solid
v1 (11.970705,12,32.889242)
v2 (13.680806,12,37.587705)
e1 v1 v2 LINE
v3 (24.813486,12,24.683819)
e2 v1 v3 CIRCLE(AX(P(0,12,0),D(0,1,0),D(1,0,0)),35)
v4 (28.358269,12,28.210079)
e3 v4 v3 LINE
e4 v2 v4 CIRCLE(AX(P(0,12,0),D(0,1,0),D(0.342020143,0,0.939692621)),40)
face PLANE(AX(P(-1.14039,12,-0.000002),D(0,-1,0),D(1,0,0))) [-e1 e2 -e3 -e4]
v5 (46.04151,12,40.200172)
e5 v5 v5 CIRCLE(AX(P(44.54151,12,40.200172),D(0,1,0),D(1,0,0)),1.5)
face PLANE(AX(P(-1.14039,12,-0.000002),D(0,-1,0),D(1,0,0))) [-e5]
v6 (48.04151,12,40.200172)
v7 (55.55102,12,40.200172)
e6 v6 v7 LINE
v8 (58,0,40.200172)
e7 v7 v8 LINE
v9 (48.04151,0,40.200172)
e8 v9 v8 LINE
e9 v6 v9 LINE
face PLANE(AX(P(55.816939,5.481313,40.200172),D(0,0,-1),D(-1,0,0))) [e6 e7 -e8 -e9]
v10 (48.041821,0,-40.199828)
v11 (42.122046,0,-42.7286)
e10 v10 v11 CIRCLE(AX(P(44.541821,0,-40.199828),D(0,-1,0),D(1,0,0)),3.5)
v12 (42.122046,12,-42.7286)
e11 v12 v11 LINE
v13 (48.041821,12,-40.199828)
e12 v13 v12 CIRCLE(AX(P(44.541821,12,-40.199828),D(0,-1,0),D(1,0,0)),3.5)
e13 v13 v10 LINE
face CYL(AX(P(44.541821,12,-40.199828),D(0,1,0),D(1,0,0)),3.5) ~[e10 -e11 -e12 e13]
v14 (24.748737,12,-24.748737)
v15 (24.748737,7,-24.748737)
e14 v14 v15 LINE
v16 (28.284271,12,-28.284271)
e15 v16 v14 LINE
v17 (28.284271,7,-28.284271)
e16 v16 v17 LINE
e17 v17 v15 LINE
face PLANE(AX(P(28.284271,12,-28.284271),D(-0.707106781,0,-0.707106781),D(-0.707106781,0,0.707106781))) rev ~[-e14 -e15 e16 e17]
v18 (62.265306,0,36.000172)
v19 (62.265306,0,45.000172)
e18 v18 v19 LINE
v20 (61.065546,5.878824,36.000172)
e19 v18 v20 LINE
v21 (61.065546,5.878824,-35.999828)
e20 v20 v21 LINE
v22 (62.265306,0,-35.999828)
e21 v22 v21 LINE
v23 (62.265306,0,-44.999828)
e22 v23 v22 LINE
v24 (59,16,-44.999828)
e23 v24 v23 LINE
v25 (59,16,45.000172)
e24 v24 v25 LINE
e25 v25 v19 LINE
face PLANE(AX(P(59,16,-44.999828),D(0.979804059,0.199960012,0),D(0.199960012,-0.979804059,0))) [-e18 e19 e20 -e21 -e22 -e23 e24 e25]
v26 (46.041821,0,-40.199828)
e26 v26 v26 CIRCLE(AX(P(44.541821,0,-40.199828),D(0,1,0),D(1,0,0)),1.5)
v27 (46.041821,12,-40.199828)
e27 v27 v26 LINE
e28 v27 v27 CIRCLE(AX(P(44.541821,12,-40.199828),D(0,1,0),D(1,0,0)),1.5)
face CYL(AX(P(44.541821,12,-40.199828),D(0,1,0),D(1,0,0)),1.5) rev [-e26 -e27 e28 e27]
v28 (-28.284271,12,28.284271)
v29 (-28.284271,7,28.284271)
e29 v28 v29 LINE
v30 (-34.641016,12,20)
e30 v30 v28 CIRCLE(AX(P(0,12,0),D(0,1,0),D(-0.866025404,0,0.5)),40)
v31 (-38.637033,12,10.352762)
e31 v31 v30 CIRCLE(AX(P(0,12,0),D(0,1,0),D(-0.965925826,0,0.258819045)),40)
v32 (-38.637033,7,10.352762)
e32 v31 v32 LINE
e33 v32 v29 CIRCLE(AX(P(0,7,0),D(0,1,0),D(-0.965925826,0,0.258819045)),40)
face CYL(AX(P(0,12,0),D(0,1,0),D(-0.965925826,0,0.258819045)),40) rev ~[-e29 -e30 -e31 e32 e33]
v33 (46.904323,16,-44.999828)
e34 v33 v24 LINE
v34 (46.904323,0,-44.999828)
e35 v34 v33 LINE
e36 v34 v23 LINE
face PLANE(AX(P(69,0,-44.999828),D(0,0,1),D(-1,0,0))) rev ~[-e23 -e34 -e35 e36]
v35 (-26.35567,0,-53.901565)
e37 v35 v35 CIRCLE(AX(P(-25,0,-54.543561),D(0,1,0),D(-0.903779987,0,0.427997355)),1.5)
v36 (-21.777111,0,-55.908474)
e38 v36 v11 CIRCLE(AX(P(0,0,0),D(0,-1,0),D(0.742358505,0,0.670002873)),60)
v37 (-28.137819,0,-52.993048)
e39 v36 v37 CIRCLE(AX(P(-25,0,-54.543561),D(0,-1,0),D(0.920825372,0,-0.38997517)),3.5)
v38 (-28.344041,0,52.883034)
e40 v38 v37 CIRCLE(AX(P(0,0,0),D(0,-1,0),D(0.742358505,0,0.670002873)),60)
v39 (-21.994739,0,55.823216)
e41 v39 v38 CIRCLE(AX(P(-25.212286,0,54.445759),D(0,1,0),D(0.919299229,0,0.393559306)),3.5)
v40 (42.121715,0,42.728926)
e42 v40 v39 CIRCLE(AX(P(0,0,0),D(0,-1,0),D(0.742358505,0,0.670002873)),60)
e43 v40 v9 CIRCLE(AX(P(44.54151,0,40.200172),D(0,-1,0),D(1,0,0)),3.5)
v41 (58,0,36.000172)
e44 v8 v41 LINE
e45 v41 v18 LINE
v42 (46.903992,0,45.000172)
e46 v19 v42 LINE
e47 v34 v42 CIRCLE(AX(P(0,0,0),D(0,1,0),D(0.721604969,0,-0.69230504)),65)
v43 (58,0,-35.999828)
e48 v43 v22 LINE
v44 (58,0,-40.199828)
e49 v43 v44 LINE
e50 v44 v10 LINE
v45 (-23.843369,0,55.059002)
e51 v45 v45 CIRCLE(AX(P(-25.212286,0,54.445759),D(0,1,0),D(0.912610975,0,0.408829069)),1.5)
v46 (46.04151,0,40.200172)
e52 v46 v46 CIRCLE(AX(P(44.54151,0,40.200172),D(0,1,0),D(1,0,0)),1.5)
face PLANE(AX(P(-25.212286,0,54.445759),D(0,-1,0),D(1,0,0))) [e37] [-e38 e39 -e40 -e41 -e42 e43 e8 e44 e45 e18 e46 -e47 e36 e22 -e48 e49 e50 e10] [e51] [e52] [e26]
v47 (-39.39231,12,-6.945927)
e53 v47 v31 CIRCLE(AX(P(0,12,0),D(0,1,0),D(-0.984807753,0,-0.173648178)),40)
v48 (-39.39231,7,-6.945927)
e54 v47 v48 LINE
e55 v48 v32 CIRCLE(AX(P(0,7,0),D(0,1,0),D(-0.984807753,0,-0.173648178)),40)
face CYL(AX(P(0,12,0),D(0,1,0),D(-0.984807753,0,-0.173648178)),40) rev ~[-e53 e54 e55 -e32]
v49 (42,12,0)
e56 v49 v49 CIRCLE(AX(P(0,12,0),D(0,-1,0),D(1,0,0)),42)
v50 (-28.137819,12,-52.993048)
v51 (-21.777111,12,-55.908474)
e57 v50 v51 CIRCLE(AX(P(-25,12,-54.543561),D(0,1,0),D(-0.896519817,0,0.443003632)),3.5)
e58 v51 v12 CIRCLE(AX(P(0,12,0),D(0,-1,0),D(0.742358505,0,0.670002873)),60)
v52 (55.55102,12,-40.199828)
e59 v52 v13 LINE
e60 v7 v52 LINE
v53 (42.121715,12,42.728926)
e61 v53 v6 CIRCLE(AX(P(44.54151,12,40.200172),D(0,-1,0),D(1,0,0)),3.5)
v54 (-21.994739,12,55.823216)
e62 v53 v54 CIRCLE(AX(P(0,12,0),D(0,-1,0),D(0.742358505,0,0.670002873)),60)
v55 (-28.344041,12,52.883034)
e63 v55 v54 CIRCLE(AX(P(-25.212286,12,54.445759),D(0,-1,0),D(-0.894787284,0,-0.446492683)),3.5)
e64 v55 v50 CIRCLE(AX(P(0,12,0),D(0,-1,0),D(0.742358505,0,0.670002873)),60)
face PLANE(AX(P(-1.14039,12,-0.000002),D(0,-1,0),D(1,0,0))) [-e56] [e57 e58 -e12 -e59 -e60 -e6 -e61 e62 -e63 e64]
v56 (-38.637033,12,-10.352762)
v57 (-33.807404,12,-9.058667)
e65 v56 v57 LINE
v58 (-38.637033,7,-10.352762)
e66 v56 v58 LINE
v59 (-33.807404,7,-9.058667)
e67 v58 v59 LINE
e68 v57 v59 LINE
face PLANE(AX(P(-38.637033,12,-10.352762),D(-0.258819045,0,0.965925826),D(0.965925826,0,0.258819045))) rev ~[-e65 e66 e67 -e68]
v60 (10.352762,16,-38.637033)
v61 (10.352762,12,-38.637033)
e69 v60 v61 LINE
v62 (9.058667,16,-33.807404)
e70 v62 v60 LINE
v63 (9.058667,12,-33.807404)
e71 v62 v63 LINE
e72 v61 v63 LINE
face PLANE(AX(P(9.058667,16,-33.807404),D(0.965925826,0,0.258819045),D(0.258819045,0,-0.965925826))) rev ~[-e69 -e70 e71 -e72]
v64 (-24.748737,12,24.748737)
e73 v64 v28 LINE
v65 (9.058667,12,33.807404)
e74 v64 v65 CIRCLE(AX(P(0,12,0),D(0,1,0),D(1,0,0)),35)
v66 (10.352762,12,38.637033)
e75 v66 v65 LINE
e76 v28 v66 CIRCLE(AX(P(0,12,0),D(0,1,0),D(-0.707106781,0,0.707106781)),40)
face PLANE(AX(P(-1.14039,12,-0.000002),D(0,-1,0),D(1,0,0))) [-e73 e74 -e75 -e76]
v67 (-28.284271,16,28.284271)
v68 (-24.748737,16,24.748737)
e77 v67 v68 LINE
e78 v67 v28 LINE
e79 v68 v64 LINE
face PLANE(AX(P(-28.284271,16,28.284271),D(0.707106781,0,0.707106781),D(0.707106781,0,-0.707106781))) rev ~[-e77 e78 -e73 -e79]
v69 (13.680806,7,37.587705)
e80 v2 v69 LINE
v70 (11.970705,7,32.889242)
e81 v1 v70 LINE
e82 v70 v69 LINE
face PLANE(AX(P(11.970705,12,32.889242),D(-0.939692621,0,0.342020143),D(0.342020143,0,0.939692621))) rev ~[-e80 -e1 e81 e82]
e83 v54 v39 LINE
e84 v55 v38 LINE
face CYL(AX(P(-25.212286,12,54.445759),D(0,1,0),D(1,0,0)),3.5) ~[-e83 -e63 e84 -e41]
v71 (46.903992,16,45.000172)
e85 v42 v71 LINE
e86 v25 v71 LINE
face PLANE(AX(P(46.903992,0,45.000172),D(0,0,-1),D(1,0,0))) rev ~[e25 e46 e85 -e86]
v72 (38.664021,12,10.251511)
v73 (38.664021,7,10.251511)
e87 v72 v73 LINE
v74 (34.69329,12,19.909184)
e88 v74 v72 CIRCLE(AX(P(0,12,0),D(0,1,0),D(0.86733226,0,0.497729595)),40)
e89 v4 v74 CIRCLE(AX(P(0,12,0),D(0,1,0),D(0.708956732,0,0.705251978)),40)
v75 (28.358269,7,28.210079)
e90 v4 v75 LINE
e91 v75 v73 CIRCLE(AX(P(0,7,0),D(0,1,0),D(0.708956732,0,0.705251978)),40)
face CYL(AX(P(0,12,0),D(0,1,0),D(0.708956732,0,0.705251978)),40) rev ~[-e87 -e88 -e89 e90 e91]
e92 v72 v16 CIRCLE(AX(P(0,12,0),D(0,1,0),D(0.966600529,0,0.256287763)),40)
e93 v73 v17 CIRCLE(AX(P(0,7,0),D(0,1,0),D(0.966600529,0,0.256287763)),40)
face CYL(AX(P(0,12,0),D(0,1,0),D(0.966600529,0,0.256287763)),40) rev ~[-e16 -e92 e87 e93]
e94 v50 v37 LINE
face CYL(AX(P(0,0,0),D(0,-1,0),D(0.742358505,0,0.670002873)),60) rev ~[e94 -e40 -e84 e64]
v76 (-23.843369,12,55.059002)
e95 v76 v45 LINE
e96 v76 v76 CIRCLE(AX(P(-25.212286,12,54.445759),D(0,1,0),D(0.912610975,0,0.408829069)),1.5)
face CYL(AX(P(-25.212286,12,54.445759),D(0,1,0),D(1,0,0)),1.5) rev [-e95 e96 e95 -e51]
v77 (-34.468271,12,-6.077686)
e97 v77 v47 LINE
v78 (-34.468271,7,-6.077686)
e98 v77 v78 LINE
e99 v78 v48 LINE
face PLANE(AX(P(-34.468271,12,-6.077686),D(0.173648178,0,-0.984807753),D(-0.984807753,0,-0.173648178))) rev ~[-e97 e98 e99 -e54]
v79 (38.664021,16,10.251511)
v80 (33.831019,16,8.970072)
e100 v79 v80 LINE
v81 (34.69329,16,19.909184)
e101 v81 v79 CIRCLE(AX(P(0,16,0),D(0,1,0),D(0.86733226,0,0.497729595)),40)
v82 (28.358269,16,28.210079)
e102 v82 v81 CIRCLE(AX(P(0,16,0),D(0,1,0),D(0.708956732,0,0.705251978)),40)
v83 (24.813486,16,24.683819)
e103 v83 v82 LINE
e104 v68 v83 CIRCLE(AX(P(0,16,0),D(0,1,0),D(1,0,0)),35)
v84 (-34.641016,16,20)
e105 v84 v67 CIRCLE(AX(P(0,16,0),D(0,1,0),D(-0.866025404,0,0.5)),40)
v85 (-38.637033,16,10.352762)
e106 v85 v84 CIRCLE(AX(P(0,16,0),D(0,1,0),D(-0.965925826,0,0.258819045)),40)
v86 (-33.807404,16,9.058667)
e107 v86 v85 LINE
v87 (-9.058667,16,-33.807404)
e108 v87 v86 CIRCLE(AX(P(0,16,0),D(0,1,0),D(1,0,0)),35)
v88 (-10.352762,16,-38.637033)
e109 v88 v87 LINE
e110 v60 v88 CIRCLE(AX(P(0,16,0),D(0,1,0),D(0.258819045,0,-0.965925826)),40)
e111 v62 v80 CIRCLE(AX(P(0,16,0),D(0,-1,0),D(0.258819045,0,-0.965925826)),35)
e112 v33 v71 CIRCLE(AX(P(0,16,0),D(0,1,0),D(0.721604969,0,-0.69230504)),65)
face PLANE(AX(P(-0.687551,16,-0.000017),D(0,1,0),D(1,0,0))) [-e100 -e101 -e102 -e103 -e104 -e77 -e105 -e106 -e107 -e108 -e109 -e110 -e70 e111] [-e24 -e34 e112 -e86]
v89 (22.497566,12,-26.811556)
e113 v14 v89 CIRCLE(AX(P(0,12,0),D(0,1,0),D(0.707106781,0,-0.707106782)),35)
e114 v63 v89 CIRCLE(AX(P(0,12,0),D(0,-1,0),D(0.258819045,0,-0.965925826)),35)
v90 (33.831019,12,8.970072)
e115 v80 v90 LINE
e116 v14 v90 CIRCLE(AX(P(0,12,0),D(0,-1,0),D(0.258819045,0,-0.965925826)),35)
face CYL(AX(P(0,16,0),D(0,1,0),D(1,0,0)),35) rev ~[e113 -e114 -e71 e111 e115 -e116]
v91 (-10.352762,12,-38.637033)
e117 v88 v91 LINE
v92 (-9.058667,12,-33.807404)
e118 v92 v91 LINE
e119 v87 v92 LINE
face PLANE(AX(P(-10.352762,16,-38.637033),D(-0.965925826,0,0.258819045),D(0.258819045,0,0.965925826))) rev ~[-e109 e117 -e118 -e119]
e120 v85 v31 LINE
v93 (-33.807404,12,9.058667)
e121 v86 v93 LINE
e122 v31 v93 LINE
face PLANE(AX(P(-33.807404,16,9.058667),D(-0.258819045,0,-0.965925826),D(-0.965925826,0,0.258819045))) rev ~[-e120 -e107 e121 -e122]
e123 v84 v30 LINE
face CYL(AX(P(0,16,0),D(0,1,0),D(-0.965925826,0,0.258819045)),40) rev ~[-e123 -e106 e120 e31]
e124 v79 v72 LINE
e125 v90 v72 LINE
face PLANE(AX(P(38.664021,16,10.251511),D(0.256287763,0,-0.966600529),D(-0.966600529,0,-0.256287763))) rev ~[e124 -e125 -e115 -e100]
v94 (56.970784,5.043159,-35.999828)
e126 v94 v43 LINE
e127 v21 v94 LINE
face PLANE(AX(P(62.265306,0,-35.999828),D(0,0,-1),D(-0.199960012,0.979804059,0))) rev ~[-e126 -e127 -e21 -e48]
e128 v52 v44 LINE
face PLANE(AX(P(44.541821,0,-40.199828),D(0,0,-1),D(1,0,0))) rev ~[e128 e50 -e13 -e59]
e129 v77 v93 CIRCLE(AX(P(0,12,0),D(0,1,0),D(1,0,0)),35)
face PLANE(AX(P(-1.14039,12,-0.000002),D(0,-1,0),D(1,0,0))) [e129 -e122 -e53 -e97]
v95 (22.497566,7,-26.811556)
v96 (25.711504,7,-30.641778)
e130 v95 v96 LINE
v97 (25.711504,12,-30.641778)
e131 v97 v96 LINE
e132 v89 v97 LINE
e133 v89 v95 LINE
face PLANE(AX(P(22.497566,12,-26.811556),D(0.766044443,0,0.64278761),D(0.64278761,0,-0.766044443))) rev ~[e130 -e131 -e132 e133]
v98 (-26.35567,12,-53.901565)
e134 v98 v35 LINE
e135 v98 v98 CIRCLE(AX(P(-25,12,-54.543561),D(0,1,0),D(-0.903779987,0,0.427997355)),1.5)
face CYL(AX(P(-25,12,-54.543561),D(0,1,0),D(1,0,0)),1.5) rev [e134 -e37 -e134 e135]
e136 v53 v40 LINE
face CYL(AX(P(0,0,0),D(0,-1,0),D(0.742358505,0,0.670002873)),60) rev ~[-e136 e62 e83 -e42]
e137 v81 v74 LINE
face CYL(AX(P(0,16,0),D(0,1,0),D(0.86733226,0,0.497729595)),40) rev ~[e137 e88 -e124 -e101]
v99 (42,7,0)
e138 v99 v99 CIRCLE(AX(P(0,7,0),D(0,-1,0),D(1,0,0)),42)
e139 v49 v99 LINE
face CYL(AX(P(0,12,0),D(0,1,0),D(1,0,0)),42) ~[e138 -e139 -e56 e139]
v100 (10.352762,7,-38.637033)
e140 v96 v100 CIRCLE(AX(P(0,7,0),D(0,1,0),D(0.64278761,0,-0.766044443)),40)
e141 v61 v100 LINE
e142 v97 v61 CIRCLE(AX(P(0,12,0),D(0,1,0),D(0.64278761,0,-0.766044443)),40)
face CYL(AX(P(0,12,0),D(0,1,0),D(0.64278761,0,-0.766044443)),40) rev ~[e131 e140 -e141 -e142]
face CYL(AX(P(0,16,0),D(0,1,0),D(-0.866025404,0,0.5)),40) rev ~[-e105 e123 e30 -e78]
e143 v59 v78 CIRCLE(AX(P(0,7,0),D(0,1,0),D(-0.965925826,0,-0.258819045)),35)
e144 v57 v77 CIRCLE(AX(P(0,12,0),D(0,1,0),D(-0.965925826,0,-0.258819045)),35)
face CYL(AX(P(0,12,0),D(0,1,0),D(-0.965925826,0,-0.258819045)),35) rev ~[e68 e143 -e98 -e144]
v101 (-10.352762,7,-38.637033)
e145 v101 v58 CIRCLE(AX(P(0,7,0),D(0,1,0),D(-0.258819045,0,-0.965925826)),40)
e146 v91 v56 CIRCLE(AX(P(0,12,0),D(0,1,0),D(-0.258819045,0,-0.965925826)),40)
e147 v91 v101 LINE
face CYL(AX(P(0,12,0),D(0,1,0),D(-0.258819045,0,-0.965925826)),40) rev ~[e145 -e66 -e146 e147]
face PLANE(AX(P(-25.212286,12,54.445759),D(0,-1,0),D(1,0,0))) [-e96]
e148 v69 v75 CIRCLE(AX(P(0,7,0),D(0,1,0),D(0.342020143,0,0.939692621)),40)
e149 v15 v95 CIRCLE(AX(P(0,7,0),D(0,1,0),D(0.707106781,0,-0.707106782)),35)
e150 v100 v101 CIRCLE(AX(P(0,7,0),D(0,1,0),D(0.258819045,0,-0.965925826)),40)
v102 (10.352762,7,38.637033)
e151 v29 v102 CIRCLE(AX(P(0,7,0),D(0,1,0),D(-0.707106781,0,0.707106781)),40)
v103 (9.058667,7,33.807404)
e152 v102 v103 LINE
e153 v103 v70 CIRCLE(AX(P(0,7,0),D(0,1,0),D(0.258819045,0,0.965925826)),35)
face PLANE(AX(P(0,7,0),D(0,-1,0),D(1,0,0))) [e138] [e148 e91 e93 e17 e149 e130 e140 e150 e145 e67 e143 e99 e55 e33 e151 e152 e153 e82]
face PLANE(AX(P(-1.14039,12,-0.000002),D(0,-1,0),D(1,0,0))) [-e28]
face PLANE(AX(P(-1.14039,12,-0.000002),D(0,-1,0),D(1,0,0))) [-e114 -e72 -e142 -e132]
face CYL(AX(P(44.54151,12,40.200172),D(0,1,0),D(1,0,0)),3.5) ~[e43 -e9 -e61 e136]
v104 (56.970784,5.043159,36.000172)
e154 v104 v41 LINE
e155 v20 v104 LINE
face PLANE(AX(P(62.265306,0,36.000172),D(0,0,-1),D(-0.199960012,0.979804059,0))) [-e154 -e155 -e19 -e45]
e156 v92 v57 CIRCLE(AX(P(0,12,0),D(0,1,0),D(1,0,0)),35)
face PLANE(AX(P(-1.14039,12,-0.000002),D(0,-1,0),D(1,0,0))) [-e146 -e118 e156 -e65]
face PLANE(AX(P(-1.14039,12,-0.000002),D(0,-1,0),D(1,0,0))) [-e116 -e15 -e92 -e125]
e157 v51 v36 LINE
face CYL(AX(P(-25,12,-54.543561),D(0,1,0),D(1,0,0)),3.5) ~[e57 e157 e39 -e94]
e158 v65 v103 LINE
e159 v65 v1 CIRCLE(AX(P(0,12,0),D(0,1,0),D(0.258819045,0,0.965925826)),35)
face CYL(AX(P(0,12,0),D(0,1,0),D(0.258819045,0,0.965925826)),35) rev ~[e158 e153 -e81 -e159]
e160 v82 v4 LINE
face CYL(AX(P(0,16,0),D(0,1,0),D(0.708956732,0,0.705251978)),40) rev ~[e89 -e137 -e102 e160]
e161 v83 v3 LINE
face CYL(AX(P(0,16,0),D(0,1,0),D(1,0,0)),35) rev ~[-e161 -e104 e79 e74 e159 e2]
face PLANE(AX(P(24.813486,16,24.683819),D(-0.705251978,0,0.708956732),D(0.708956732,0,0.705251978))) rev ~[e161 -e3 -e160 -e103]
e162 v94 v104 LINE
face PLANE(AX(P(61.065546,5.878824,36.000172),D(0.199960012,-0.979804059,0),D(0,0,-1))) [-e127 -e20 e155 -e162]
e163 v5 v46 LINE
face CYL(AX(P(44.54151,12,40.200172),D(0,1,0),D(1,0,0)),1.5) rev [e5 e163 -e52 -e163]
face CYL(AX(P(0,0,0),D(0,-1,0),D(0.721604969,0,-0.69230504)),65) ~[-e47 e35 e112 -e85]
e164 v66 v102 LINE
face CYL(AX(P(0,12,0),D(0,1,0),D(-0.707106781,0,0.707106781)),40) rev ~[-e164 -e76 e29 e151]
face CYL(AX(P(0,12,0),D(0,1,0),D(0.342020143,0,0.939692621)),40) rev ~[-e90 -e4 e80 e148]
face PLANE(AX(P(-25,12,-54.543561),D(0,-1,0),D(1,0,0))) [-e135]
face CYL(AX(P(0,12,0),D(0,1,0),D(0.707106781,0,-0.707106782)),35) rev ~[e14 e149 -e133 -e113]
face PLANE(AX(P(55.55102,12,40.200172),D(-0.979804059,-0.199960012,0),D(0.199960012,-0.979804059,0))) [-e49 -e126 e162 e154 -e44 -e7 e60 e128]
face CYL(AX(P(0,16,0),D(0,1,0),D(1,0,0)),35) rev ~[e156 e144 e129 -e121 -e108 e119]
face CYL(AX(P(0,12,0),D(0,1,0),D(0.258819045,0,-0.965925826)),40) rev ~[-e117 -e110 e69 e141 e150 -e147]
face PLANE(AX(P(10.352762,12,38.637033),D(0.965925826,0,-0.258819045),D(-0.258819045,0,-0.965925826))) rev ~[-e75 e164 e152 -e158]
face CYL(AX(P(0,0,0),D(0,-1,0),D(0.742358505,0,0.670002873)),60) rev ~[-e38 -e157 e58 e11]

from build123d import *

# Parameters (mm, degrees)
BOSS_EXTRUDE1_DEPTH = 16
CUT_EXTRUDE1_DEPTH  = 12
SKETCH4_W           = 72
SKETCH4_H           = 5
CUT_EXTRUDE2_DEPTH  = 16
SKETCH5_R           = 35
CUT_EXTRUDE3_DEPTH  = 16
CUT_EXTRUDE4_DEPTH  = 10
SKETCH7_R           = 42
BOSS_EXTRUDE2_DEPTH = 5
SKETCH8_R           = 3.5
SKETCH8_R_2         = 1.5
BOSS_EXTRUDE3_DEPTH = 12
SKETCH13_R          = 1.5
CUT_EXTRUDE5_DEPTH  = 12
SKETCH15_W          = 14.23560612
SKETCH15_H          = 16
BOSS_EXTRUDE4_DEPTH = 90
CUT_EXTRUDE6_DEPTH  = 90
CUT_EXTRUDE11_START = -4.8
CUT_EXTRUDE11_DEPTH = 80.4
SKETCH19_W          = 72
SKETCH19_H          = 6
CUT_EXTRUDE14_DEPTH = 8.4


with BuildPart() as part:
    # Sketch1 → Boss-Extrude1 (new body)
    with BuildSketch(Plane(origin=(0, 0, 0), x_dir=(1, 0, 0), z_dir=(0, 1, 0))):
        with BuildLine():
            Line((25, -45.0001724), (25, 44.9998276))
            Line((25, 44.9998276), (46.904322999, 44.9998276))
            ThreePointArc((46.904322999, 44.9998276), (-65, 0.000238913), (46.903992196, -45.0001724))
            Line((46.903992196, -45.0001724), (25, -45.0001724))
        make_face()
        with BuildLine():
            Line((46.904322999, 44.9998276), (25, 44.9998276))
            Line((25, 44.9998276), (25, -45.0001724))
            Line((25, -45.0001724), (46.903992196, -45.0001724))
            ThreePointArc((46.903992196, -45.0001724), (60.306548122, -24.251190767), (65, 0))
            ThreePointArc((65, 0), (60.306637259, 24.250969105), (46.904322999, 44.9998276))
        make_face()
        with BuildLine():
            Line((69, 44.9998276), (46.904322999, 44.9998276))
            ThreePointArc((46.904322999, 44.9998276), (60.306637259, 24.250969105), (65, 0))
            ThreePointArc((65, 0), (60.306548122, -24.251190767), (46.903992196, -45.0001724))
            Line((46.903992196, -45.0001724), (69, -45.0001724))
            Line((69, -45.0001724), (69, 44.9998276))
        make_face()
    extrude(amount=BOSS_EXTRUDE1_DEPTH)

    # Sketch3 → Cut-Extrude1 (cut)
    with BuildSketch(Plane.XZ):
        with BuildLine():
            Line((13.648760289, 40.2001724), (44.541510291, 40.2001724))
            ThreePointArc((44.541510291, 40.2001724), (-60, -0.000232232), (44.541821482, -40.1998276))
            Line((44.541821482, -40.1998276), (13.648760289, -40.1998276))
            Line((13.648760289, -40.1998276), (13.648760289, 40.2001724))
        make_face()
        with BuildLine():
            ThreePointArc((60, 0), (56.002190214, 21.53496439), (44.541510291, 40.2001724))
            Line((44.541510291, 40.2001724), (13.648760289, 40.2001724))
            Line((13.648760289, 40.2001724), (13.648760289, -40.1998276))
            Line((13.648760289, -40.1998276), (44.541821482, -40.1998276))
            ThreePointArc((44.541821482, -40.1998276), (56.002273565, -21.534747631), (60, 0))
        make_face()
        with BuildLine():
            Line((64, -40.1998276), (64, 40.2001724))
            Line((64, 40.2001724), (44.541510291, 40.2001724))
            ThreePointArc((44.541510291, 40.2001724), (56.002190214, 21.53496439), (60, 0))
            ThreePointArc((60, 0), (56.002273565, -21.534747631), (44.541821482, -40.1998276))
            Line((44.541821482, -40.1998276), (64, -40.1998276))
        make_face()
    extrude(amount=-CUT_EXTRUDE1_DEPTH, mode=Mode.SUBTRACT)

    # Sketch4 → Cut-Extrude2 (cut)
    with BuildSketch(Plane(origin=(69, 0, 0), x_dir=(0, 0, -1), z_dir=(1, 0, 0))):
        with Locations((-0.0001724, 2.5)):
            Rectangle(SKETCH4_W, SKETCH4_H)
    extrude(amount=-CUT_EXTRUDE2_DEPTH, mode=Mode.SUBTRACT)

    # Sketch5 → Cut-Extrude3 (cut)
    with BuildSketch(Plane(origin=(0, 16, 0), x_dir=(1, 0, 0), z_dir=(0, 1, 0))):
        Circle(SKETCH5_R)
    extrude(amount=-CUT_EXTRUDE3_DEPTH, mode=Mode.SUBTRACT)

    # Sketch6 → Cut-Extrude4 (cut)
    with BuildSketch(Plane(origin=(0, 16, 0), x_dir=(1, 0, 0), z_dir=(0, 1, 0))):
        with BuildLine():
            Line((-28.284271247, -28.284271247), (-24.748737342, -24.748737342))
            ThreePointArc((-24.748737342, -24.748737342), (-27.76736691, -21.306650015), (-30.310889132, -17.5))
            Line((-30.310889132, -17.5), (-34.641016151, -20))
            ThreePointArc((-34.641016151, -20), (-31.734133612, -24.35045716), (-28.284271247, -28.284271247))
        make_face()
        with BuildLine():
            Line((-34.641016151, -20), (-30.310889132, -17.5))
            ThreePointArc((-30.310889132, -17.5), (-32.335783638, -13.393920133), (-33.80740392, -9.058666579))
            Line((-33.80740392, -9.058666579), (-38.637033052, -10.352761804))
            ThreePointArc((-38.637033052, -10.352761804), (-36.9551813, -15.307337295), (-34.641016151, -20))
        make_face()
        with BuildLine():
            Line((-10.352761804, 38.637033052), (-9.058666579, 33.80740392))
            ThreePointArc((-9.058666579, 33.80740392), (0, 35), (9.058666579, 33.80740392))
            Line((9.058666579, 33.80740392), (10.352761804, 38.637033052))
            ThreePointArc((10.352761804, 38.637033052), (0, 40), (-10.352761804, 38.637033052))
        make_face()
        with BuildLine():
            ThreePointArc((33.831018509, -8.970071717), (32.370760151, -13.309165535), (30.356629112, -17.420535841))
            Line((30.356629112, -17.420535841), (34.693290413, -19.909183818))
            ThreePointArc((34.693290413, -19.909183818), (36.995154458, -15.210474897), (38.664021154, -10.251510534))
            Line((38.664021154, -10.251510534), (33.831018509, -8.970071717))
        make_face()
        with BuildLine():
            ThreePointArc((30.356629112, -17.420535841), (27.823087732, -21.233835948), (24.813485607, -24.683819236))
            Line((24.813485607, -24.683819236), (28.358269265, -28.210079126))
            ThreePointArc((28.358269265, -28.210079126), (31.79781455, -24.267241084), (34.693290413, -19.909183818))
            Line((34.693290413, -19.909183818), (30.356629112, -17.420535841))
        make_face()
    extrude(amount=-CUT_EXTRUDE4_DEPTH, mode=Mode.SUBTRACT)

    # Sketch7 → Boss-Extrude2 (add)
    with BuildSketch(Plane.XZ.offset(-12)):
        Circle(SKETCH7_R)
        with BuildLine():
            ThreePointArc((-28.284271247, 28.284271247), (-10.352761804, 38.637033052), (10.352761804, 38.637033052))
            Line((10.352761804, 38.637033052), (9.058666579, 33.80740392))
            ThreePointArc((9.058666579, 33.80740392), (10.524702983, 33.380093276), (11.970705016, 32.889241728))
            Line((11.970705016, 32.889241728), (13.680805733, 37.587704831))
            ThreePointArc((13.680805733, 37.587704831), (21.53615385, 33.707478063), (28.358269265, 28.210079126))
            ThreePointArc((28.358269265, 28.210079126), (34.693290413, 19.909183818), (38.664021154, 10.251510534))
            ThreePointArc((38.664021154, 10.251510534), (38.623439557, -10.40336084), (28.284271247, -28.284271247))
            Line((28.284271247, -28.284271247), (24.748737342, -24.748737342))
            ThreePointArc((24.748737342, -24.748737342), (23.645657267, -25.804706788), (22.497566339, -26.811555509))
            Line((22.497566339, -26.811555509), (25.711504387, -30.641777725))
            ThreePointArc((25.711504387, -30.641777725), (18.469944529, -35.480433327), (10.352761804, -38.637033052))
            ThreePointArc((10.352761804, -38.637033052), (0, -40), (-10.352761804, -38.637033052))
            ThreePointArc((-10.352761804, -38.637033052), (-28.284271247, -28.284271247), (-38.637033052, -10.352761804))
            Line((-38.637033052, -10.352761804), (-33.80740392, -9.058666579))
            ThreePointArc((-33.80740392, -9.058666579), (-34.170360249, -7.575386488), (-34.468271355, -6.077686218))
            Line((-34.468271355, -6.077686218), (-39.39231012, -6.945927107))
            ThreePointArc((-39.39231012, -6.945927107), (-39.961928863, 1.744775495), (-38.637033052, 10.352761804))
            ThreePointArc((-38.637033052, 10.352761804), (-34.641016151, 20), (-28.284271247, 28.284271247))
        make_face(mode=Mode.SUBTRACT)
    extrude(amount=BOSS_EXTRUDE2_DEPTH)

    # Sketch8 → Boss-Extrude3 (add)
    with BuildSketch(Plane.XZ.offset(-12)):
        with Locations((-25.212285918, 54.445758685)):
            Circle(SKETCH8_R)
        with Locations((-25.212285918, 54.445758685)):
            Circle(SKETCH8_R_2, mode=Mode.SUBTRACT)
        with Locations((-25, -54.543560573)):
            Circle(SKETCH8_R)
        with Locations((-25, -54.543560573)):
            Circle(SKETCH8_R_2, mode=Mode.SUBTRACT)
        with Locations((44.541510291, 40.2001724)):
            Circle(SKETCH8_R)
        with Locations((44.541510291, 40.2001724)):
            Circle(SKETCH8_R_2, mode=Mode.SUBTRACT)
        with Locations((44.541821482, -40.1998276)):
            Circle(SKETCH8_R)
        with Locations((44.541821482, -40.1998276)):
            Circle(SKETCH8_R_2, mode=Mode.SUBTRACT)
    extrude(amount=BOSS_EXTRUDE3_DEPTH)

    # Sketch13 → Cut-Extrude5 (cut)
    with BuildSketch(Plane.XZ.offset(-12)):
        with Locations((44.541510291, 40.2001724)):
            Circle(SKETCH13_R)
        with Locations((-25.212285918, 54.445758685)):
            Circle(SKETCH13_R)
        with Locations((-25, -54.543560573)):
            Circle(SKETCH13_R)
        with Locations((44.541821482, -40.1998276)):
            Circle(SKETCH13_R)
    extrude(amount=CUT_EXTRUDE5_DEPTH, mode=Mode.SUBTRACT)

    # Sketch15 → Boss-Extrude4 (add)
    with BuildSketch(Plane.XY.offset(45.0001724)):
        with Locations((61.88219694, 8)):
            Rectangle(SKETCH15_W, SKETCH15_H)
    extrude(amount=-BOSS_EXTRUDE4_DEPTH)

    # Sketch14 → Cut-Extrude6 (cut)
    with BuildSketch(Plane(origin=(0, 0, -44.9998276), x_dir=(-1, 0, 0), z_dir=(0, 0, -1))):
        Polygon((-69, 16), (-59, 16), (-69, -33), align=None)
    extrude(amount=-CUT_EXTRUDE6_DEPTH, mode=Mode.SUBTRACT)

    # Sketch17 → Cut-Extrude11 (cut)
    with BuildSketch(Plane.XY.offset(45.0001724).offset(CUT_EXTRUDE11_START)):
        Polygon((58.000000002, 0), (54.73469388, 0), (54.73469388, 12), (55.551020411, 12), align=None)
    extrude(amount=-CUT_EXTRUDE11_DEPTH, mode=Mode.SUBTRACT)

    # Sketch19 → Cut-Extrude14 (cut)
    with BuildSketch(Plane(origin=(59.775689724, 12.199120352, 0), x_dir=(0, 0, -1), z_dir=(0.979804059, 0.199960012, 0))):
        with Locations((-0.0001724, -9.450571359)):
            Rectangle(SKETCH19_W, SKETCH19_H)
    extrude(amount=-CUT_EXTRUDE14_DEPTH, mode=Mode.SUBTRACT)


solid = part.part
